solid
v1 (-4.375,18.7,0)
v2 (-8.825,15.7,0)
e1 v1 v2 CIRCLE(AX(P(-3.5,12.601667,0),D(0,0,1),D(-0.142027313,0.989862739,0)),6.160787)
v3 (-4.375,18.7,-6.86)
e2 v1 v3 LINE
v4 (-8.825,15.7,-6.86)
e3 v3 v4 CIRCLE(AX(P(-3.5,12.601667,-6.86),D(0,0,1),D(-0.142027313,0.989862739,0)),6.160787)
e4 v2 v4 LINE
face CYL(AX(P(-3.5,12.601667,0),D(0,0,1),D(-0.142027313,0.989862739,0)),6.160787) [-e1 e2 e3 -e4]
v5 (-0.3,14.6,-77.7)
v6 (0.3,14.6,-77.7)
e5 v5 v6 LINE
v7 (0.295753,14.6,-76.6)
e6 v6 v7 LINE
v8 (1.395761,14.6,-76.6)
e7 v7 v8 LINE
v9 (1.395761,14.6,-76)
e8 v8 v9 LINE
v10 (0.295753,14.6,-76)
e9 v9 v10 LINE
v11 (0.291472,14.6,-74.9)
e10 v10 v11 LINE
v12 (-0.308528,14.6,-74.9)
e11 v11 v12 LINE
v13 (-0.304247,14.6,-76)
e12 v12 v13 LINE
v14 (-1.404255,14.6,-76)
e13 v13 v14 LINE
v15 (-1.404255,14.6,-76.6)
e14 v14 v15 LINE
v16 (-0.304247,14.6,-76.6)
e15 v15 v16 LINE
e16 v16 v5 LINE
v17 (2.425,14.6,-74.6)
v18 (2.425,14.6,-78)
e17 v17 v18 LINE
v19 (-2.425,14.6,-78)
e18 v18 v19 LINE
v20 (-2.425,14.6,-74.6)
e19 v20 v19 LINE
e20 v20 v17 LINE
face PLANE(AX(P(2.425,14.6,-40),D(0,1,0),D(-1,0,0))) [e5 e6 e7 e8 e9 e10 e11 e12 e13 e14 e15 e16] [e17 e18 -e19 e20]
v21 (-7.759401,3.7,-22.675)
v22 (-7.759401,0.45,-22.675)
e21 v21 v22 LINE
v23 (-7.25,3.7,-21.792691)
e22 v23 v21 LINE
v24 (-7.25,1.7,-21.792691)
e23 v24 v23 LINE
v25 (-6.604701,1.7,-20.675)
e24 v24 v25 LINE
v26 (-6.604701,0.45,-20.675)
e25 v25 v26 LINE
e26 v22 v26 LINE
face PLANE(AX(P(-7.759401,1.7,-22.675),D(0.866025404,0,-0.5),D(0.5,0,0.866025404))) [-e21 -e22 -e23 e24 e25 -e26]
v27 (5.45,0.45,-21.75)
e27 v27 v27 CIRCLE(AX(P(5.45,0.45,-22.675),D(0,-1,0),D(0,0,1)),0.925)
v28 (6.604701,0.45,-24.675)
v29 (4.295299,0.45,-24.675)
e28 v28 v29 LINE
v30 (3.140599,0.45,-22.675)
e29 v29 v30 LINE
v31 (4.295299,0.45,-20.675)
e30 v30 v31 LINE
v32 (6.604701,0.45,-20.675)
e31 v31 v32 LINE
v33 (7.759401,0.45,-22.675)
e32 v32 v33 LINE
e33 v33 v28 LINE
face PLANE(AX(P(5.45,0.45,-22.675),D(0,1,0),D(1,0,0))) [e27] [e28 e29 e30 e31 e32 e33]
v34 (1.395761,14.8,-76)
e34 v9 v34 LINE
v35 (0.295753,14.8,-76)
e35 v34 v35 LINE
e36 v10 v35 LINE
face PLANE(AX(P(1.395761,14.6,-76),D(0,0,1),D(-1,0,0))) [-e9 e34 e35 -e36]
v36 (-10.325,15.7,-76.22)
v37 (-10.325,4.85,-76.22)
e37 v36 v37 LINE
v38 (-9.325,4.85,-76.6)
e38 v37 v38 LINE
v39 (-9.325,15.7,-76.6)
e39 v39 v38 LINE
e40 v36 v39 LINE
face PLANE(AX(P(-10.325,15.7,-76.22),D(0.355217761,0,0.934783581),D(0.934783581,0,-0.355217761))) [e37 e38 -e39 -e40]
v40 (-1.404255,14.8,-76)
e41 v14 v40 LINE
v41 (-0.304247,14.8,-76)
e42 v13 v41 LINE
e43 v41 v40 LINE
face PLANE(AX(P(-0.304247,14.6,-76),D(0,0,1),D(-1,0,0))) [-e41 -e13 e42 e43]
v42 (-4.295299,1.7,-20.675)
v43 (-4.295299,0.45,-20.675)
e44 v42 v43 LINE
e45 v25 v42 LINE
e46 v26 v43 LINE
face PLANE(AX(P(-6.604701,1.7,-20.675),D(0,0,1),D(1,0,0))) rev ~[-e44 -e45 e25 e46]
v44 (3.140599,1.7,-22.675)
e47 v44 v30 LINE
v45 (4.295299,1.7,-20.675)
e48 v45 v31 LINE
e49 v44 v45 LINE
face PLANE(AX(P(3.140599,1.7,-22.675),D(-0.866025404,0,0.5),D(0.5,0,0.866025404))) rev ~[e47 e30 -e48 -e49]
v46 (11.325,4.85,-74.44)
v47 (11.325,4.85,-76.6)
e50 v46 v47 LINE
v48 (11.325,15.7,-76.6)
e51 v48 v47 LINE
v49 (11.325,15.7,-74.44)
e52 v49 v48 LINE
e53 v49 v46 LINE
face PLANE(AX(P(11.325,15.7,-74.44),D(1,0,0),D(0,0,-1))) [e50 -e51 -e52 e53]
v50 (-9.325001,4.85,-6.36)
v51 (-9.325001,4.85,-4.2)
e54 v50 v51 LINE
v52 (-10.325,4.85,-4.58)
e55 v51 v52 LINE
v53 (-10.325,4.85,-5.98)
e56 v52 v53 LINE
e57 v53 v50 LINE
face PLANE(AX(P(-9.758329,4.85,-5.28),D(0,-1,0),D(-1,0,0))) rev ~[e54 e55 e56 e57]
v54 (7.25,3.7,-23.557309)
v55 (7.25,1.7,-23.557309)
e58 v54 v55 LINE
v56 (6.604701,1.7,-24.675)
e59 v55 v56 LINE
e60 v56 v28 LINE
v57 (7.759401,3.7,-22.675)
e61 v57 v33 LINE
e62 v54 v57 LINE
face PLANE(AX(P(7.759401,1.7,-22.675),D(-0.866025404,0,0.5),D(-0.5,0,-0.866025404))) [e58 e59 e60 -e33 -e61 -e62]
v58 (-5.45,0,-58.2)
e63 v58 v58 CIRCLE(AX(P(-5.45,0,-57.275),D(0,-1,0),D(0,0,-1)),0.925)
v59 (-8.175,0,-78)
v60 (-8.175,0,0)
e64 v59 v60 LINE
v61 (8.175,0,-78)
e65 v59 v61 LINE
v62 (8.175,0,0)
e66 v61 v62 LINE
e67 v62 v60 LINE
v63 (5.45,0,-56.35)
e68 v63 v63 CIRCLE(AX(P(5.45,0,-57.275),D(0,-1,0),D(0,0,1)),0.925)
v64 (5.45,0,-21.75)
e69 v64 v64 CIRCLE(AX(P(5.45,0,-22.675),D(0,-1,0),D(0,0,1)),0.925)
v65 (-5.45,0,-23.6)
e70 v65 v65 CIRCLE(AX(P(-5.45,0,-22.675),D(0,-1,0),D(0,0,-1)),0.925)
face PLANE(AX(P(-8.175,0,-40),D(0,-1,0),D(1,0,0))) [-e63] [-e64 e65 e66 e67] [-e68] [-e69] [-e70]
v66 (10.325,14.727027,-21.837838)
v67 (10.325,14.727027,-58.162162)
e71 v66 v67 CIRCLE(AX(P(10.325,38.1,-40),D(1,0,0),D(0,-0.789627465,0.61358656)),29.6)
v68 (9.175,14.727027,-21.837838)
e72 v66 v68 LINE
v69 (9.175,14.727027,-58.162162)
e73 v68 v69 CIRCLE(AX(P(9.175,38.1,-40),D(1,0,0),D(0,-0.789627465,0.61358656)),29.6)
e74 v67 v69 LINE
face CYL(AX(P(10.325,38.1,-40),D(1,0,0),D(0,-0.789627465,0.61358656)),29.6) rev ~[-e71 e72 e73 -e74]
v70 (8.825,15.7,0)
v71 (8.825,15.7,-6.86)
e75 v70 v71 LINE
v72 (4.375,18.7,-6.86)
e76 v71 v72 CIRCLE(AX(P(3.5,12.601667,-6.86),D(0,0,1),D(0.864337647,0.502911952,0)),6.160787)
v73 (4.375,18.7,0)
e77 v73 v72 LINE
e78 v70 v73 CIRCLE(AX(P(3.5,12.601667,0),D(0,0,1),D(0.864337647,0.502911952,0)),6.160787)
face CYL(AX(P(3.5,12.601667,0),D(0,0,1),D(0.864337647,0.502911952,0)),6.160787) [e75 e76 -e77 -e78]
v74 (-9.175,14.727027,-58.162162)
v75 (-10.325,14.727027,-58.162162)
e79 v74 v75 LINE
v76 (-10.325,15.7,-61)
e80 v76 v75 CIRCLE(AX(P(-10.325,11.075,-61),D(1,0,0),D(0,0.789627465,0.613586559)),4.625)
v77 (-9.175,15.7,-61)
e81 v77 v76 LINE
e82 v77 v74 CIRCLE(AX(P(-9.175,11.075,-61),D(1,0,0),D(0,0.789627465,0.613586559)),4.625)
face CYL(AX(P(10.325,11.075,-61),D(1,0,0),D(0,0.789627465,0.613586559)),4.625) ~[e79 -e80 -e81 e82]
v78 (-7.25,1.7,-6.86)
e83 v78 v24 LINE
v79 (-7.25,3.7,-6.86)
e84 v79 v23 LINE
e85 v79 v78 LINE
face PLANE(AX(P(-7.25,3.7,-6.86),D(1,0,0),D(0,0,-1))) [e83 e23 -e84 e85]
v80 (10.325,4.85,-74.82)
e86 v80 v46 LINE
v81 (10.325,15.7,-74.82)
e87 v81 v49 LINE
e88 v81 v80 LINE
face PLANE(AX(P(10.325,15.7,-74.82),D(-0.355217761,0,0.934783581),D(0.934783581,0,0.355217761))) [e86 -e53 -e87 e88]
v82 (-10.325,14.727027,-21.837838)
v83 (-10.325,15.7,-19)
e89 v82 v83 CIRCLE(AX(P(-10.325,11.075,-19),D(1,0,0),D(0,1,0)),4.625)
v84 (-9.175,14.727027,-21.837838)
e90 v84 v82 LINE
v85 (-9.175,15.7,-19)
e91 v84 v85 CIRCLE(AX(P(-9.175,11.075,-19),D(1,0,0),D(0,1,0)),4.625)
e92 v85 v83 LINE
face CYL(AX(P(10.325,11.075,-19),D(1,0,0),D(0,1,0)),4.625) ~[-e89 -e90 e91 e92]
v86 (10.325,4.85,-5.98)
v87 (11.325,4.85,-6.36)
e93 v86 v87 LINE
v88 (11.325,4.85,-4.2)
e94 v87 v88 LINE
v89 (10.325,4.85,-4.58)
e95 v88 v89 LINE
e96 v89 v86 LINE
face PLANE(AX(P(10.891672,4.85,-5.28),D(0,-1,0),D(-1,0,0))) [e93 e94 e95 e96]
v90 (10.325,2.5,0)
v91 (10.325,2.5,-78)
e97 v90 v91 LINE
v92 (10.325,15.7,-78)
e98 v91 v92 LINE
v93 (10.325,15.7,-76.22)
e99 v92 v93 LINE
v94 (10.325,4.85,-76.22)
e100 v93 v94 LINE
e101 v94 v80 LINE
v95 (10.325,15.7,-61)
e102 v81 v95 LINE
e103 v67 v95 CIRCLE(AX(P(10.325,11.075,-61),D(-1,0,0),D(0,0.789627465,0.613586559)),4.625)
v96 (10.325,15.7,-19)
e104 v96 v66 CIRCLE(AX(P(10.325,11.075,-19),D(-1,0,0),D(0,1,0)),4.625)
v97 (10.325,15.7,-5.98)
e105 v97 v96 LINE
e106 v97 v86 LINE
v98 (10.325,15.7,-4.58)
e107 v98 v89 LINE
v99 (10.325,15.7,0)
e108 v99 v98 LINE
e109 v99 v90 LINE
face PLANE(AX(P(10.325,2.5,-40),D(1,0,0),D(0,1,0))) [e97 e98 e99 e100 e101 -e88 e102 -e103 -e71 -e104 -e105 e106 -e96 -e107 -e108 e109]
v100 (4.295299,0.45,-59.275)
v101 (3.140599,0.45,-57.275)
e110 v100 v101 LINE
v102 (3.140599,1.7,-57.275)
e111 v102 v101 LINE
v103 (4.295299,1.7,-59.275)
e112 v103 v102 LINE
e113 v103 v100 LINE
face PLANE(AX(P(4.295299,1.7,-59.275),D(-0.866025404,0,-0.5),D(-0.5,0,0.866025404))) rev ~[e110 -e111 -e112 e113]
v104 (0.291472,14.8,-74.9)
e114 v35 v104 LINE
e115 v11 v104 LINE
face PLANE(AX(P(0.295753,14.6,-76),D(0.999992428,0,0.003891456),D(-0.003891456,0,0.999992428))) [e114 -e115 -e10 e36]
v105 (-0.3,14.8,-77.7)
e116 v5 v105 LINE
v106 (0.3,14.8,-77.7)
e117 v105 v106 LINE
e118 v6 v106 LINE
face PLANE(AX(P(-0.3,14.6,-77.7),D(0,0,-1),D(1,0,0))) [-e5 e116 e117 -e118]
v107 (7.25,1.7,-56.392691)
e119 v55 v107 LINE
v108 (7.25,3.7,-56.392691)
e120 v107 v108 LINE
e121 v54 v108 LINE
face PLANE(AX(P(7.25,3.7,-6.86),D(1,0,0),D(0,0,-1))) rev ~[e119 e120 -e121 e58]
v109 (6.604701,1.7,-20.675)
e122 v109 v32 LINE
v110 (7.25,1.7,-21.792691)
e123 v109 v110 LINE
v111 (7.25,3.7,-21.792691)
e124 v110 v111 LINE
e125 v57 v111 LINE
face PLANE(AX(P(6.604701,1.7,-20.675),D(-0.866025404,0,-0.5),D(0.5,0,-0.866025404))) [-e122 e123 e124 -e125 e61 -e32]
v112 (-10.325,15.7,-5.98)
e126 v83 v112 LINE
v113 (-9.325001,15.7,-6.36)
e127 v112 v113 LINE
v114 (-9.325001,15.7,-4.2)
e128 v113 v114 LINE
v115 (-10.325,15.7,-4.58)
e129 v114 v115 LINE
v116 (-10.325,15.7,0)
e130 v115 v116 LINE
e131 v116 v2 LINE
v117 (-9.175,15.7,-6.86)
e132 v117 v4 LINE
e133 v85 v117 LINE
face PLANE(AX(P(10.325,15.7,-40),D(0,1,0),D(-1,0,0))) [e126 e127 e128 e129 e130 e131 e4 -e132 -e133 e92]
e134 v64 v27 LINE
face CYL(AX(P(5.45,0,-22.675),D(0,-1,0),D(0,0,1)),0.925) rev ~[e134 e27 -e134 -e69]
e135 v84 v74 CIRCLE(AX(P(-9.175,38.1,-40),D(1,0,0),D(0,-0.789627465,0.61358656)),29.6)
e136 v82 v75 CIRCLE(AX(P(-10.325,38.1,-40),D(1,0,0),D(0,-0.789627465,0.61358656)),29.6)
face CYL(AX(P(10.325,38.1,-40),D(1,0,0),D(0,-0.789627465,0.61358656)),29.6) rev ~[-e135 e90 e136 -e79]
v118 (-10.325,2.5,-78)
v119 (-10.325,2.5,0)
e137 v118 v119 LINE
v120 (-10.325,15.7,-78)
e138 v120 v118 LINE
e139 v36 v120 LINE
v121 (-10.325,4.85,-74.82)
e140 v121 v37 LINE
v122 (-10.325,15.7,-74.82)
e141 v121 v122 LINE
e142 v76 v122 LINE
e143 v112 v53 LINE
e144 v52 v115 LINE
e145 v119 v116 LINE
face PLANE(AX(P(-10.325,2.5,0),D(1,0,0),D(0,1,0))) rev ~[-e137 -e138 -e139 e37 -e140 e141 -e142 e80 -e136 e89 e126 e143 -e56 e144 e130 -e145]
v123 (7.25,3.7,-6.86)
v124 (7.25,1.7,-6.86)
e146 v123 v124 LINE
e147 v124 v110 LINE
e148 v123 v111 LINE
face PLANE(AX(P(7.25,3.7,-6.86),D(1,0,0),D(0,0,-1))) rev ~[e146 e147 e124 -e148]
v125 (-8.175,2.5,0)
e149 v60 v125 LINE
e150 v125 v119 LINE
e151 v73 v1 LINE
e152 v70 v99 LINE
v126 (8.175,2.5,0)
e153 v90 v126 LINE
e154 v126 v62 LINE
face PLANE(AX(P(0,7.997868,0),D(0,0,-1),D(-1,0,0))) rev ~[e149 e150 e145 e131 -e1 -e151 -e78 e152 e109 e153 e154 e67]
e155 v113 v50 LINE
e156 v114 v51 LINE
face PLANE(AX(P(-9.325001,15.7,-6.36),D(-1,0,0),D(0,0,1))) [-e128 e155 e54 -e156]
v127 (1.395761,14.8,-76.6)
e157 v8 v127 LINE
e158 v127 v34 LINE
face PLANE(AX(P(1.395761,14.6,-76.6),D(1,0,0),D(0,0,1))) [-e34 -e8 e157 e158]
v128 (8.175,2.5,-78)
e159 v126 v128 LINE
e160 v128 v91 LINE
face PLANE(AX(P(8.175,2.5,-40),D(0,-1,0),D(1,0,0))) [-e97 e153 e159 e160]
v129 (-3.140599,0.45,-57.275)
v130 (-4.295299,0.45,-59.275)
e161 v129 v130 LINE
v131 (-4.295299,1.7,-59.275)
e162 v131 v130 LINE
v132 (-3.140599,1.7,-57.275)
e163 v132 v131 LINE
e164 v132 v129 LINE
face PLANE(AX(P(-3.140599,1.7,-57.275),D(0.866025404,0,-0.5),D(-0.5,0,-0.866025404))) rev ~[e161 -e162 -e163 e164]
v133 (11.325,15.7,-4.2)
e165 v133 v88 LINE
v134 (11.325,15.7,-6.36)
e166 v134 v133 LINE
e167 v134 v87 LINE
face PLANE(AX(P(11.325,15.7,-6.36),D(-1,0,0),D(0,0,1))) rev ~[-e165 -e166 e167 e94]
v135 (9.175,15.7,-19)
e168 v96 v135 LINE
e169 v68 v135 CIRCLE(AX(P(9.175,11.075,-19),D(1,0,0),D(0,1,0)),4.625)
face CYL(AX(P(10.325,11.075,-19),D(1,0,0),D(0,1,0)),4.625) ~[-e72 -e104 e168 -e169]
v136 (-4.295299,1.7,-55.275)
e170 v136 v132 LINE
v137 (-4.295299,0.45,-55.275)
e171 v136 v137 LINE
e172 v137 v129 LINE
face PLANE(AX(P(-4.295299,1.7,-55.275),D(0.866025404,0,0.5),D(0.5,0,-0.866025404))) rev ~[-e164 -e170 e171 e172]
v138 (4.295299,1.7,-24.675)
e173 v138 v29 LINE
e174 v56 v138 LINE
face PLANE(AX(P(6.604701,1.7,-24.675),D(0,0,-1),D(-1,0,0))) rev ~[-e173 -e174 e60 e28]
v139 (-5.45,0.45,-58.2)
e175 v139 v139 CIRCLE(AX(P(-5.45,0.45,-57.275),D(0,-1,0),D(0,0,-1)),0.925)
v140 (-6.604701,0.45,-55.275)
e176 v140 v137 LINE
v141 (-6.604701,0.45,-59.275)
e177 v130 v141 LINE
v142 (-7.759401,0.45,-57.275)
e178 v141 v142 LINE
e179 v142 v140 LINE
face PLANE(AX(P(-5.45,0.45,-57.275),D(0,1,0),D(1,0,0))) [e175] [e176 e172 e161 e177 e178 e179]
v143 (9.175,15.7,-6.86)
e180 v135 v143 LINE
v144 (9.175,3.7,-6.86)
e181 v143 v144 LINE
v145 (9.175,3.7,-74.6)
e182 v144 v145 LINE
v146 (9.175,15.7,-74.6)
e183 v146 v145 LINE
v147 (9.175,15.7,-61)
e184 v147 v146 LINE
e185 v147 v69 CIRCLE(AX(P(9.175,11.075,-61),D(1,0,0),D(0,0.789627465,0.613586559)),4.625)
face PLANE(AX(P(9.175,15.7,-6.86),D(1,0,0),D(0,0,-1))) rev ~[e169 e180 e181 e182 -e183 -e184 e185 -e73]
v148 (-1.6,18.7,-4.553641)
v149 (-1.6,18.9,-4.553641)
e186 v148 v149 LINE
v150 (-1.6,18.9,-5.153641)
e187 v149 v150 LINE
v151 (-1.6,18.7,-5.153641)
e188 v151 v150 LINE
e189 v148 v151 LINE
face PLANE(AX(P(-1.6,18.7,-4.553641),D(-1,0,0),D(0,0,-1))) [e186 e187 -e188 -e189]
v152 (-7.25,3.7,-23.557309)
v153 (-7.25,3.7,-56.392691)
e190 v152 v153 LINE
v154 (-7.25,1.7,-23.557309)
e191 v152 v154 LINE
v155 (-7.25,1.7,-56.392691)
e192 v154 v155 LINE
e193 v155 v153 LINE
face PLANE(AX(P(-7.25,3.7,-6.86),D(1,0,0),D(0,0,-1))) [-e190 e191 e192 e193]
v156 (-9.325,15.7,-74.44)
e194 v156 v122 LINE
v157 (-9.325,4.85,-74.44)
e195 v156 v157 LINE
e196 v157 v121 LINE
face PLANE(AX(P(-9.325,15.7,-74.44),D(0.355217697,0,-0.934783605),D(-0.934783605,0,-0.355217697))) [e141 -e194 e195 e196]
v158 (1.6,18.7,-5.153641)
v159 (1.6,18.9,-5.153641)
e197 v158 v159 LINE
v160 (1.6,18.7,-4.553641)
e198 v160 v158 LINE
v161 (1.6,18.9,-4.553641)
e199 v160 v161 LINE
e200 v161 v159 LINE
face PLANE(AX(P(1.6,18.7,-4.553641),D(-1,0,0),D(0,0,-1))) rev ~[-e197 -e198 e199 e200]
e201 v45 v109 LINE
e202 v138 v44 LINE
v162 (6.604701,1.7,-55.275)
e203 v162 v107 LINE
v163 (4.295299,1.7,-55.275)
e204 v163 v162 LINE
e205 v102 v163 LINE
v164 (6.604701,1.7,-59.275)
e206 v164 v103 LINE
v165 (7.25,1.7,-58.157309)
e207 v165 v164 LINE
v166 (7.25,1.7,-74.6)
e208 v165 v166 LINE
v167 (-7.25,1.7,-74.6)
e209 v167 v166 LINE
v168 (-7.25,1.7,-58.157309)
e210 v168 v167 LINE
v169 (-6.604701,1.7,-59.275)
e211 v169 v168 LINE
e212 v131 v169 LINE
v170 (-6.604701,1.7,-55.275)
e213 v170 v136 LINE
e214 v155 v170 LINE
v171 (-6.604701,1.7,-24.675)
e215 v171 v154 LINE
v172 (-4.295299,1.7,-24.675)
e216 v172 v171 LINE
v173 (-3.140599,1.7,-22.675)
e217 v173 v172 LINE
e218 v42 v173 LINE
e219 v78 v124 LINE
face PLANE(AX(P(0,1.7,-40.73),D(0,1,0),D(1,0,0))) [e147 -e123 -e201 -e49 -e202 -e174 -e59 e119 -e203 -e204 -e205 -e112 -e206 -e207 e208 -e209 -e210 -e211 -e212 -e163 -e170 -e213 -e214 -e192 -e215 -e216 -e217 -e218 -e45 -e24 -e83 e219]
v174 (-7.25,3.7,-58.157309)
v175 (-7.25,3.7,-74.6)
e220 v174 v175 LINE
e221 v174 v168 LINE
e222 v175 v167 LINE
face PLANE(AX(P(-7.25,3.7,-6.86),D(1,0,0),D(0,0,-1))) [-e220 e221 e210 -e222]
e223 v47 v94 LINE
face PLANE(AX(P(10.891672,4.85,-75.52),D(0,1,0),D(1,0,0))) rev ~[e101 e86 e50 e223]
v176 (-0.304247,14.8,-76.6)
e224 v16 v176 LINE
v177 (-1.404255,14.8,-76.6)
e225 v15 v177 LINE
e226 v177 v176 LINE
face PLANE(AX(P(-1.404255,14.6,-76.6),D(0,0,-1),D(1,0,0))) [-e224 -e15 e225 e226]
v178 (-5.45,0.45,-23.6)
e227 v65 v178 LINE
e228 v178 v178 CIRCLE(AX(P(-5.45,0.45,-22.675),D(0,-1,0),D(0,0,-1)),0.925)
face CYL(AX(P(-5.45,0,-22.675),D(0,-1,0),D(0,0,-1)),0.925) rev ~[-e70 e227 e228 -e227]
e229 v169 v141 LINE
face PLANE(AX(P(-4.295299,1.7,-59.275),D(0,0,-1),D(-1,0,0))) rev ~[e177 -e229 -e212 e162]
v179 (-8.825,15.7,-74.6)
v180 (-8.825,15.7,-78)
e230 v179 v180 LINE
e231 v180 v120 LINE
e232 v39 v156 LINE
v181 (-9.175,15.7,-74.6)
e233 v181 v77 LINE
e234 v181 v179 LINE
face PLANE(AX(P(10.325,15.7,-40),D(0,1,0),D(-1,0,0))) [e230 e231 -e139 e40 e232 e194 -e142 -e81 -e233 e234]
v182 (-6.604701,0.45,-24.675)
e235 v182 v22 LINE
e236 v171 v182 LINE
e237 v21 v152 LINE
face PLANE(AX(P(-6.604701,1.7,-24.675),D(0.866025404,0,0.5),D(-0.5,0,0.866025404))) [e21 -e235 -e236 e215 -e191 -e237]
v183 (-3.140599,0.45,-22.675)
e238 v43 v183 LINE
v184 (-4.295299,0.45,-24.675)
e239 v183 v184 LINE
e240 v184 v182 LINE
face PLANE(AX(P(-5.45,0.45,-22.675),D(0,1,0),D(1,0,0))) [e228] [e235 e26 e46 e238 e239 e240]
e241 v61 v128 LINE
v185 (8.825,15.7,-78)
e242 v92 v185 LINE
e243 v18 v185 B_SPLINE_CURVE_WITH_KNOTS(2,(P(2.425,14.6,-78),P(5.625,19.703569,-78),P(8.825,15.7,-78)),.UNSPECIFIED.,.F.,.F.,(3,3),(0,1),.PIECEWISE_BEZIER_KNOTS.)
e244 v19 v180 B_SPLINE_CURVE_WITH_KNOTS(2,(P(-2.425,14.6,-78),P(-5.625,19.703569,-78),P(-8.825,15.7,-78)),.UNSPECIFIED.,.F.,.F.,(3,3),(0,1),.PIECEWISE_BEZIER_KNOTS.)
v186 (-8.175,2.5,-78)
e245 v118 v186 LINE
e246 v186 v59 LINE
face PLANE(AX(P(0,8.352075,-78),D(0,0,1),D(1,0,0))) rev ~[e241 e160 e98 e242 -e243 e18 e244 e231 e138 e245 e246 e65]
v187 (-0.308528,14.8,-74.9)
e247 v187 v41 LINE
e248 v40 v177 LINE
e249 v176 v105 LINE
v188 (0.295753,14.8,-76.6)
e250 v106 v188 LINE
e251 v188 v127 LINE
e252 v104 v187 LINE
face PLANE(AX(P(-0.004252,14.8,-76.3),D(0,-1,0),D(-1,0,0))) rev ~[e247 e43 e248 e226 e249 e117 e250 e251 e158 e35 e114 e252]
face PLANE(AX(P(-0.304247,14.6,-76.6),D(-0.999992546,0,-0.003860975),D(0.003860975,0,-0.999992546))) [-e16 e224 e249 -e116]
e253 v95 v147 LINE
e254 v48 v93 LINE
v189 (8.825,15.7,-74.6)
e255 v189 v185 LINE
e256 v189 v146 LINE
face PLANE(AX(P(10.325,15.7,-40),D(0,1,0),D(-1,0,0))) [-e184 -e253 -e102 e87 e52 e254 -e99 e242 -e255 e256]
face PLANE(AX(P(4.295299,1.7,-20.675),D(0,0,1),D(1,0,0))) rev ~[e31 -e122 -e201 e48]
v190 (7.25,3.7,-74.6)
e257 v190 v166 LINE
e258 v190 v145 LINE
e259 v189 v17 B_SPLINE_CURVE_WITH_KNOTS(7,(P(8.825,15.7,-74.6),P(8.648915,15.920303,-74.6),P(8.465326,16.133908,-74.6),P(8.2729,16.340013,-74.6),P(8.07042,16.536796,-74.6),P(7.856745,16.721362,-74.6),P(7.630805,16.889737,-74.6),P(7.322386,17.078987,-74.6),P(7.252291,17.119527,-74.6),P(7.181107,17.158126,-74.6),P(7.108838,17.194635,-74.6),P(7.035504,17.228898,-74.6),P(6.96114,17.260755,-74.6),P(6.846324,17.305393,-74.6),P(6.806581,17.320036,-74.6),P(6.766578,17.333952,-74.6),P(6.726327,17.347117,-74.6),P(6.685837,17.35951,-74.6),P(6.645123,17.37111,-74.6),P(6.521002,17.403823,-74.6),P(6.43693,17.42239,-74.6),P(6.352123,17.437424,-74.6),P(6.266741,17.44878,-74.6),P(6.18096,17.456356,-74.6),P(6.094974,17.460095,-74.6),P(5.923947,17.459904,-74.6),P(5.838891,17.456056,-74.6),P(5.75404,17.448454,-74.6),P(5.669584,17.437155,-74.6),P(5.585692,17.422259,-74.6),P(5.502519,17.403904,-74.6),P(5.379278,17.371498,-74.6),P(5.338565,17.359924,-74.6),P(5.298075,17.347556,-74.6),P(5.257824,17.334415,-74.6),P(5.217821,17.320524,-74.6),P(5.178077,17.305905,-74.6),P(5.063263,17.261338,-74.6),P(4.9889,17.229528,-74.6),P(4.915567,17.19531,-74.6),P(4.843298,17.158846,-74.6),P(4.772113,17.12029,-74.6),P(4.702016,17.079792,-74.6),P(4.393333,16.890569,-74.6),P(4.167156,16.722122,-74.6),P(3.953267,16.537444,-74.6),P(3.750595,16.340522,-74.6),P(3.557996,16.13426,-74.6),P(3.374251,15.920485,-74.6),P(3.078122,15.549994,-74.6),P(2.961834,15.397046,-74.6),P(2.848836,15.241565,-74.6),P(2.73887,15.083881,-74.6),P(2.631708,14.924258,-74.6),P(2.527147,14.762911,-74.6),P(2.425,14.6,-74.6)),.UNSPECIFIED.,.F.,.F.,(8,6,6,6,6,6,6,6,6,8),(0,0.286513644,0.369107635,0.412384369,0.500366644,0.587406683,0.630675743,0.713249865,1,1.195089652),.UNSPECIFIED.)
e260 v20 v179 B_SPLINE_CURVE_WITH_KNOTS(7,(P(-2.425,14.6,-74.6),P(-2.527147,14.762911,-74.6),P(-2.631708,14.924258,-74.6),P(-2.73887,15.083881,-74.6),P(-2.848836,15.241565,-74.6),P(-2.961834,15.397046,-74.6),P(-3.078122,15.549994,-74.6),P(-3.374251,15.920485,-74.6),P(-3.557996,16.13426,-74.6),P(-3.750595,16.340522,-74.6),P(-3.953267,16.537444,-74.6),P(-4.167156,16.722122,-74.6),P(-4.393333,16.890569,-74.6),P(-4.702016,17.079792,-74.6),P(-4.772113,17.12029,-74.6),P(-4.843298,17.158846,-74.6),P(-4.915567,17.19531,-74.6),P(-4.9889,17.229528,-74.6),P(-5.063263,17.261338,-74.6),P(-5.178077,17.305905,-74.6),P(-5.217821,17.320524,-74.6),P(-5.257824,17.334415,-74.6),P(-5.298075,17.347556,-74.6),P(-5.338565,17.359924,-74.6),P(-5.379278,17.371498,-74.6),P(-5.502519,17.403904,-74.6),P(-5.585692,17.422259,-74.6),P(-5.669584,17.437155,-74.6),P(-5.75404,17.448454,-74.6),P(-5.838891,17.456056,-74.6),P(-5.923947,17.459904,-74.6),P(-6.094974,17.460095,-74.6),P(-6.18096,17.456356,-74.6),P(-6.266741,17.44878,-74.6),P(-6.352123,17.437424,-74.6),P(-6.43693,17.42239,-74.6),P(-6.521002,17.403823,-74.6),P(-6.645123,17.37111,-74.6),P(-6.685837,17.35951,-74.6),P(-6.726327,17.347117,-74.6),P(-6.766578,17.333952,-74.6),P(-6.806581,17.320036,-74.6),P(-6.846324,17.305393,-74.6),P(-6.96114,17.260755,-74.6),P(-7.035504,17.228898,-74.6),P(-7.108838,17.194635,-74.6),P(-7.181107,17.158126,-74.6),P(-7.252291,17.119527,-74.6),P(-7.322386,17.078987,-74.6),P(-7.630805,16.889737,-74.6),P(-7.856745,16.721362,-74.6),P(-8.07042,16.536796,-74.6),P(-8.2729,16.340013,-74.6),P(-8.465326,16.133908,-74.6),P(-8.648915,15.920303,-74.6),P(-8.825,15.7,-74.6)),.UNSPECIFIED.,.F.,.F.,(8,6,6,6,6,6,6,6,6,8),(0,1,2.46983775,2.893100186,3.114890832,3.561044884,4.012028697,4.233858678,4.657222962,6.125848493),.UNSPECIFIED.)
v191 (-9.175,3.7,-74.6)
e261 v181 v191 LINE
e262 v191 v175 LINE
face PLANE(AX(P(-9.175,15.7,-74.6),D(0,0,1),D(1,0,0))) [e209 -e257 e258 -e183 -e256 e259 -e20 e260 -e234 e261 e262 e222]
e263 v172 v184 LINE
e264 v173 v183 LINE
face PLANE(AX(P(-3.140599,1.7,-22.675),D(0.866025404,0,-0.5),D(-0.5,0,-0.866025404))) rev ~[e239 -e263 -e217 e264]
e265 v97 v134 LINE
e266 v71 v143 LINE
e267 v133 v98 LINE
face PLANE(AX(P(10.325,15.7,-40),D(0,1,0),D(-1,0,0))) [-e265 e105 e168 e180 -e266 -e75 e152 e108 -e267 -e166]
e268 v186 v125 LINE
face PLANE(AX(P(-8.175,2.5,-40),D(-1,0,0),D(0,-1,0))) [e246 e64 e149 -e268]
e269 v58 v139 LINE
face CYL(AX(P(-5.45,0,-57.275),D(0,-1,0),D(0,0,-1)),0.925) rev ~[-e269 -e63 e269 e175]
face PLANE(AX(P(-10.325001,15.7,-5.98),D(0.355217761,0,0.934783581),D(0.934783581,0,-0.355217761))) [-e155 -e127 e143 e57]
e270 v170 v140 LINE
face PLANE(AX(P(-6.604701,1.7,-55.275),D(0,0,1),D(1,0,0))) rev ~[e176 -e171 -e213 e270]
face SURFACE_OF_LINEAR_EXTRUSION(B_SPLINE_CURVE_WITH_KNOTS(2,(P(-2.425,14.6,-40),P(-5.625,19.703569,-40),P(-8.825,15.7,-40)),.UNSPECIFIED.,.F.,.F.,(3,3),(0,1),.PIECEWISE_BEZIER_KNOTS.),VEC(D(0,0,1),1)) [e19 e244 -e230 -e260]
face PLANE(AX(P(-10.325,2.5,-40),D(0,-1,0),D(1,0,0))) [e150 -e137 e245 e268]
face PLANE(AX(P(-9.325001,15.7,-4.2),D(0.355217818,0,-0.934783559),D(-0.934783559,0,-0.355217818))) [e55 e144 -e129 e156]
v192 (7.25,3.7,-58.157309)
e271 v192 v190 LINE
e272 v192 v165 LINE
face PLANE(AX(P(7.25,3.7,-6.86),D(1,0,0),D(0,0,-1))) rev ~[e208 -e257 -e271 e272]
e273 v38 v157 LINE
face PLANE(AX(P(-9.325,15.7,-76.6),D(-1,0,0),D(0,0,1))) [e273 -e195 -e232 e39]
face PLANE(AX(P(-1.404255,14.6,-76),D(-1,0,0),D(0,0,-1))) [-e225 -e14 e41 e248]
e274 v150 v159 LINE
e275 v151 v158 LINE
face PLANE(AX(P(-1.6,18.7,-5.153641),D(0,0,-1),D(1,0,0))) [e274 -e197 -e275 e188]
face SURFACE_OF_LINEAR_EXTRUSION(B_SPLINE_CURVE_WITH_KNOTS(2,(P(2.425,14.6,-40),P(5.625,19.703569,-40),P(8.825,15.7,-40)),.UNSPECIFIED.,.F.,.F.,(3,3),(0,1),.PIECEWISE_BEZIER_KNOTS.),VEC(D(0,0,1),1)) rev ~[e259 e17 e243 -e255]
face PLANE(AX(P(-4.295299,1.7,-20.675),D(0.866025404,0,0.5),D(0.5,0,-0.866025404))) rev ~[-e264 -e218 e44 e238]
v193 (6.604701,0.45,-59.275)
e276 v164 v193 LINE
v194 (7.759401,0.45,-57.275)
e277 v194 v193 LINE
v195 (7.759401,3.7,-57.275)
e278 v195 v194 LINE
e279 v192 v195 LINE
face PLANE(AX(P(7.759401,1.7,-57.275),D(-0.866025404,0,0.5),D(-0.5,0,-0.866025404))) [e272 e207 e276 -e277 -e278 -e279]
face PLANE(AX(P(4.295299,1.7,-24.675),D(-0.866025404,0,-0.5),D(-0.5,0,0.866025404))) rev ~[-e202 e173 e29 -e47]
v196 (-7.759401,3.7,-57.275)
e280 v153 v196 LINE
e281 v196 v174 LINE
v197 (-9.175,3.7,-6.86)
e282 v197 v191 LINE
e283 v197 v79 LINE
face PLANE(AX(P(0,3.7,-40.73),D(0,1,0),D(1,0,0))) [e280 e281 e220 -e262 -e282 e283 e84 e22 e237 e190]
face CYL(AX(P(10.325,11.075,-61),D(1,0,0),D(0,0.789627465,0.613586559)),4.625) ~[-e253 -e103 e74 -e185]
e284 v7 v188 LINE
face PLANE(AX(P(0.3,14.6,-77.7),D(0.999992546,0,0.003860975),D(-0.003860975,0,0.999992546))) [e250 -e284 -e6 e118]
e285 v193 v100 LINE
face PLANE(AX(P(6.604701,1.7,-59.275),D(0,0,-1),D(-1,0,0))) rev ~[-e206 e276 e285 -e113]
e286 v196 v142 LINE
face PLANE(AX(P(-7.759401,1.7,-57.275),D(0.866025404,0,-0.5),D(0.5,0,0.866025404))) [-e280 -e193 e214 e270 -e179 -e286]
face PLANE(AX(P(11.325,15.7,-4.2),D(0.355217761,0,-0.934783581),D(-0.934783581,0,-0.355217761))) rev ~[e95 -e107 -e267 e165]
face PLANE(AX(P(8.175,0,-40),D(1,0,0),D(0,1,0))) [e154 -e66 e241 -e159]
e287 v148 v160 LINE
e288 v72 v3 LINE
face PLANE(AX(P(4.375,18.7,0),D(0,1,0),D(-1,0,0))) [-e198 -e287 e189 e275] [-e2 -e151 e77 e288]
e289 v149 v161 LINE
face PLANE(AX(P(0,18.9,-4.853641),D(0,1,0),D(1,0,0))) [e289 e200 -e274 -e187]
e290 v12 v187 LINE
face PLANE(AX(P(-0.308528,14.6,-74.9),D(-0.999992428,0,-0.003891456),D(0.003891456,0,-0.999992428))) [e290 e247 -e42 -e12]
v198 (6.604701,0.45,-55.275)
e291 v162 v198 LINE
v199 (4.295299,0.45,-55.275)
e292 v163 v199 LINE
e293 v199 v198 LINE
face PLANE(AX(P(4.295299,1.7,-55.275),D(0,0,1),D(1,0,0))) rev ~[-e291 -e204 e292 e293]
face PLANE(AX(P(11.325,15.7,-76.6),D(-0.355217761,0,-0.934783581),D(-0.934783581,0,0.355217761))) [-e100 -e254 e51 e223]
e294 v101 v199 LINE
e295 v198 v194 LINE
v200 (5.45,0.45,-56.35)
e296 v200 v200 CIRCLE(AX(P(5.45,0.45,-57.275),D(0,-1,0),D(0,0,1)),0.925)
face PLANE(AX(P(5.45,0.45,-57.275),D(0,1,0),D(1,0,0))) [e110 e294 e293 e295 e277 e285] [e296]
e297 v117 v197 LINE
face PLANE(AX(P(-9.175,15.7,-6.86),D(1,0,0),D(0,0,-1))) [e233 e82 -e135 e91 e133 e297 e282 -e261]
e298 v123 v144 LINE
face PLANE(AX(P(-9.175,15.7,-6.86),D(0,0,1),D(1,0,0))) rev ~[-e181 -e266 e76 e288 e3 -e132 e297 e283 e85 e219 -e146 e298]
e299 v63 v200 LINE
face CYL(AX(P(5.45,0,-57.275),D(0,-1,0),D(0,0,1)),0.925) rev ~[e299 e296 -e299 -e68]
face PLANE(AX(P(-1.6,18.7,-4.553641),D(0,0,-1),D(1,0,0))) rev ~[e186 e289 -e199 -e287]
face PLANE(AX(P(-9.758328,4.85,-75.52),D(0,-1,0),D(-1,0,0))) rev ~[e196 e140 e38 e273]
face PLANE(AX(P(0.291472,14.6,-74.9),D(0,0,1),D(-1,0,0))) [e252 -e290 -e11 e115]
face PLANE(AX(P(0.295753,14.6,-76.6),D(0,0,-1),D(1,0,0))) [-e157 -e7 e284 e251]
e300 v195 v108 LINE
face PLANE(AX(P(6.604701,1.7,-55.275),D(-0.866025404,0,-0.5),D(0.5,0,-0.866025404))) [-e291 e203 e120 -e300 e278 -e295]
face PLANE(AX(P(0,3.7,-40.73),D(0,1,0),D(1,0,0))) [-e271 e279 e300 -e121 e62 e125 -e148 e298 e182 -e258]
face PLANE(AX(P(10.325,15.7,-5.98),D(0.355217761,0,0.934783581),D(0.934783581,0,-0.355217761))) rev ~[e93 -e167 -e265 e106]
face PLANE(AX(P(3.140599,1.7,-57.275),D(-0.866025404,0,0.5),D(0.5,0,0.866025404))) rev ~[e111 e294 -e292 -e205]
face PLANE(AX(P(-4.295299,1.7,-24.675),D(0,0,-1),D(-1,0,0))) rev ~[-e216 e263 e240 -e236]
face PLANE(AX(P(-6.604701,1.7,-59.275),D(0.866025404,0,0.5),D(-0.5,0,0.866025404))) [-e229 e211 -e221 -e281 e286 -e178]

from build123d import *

# Parameters (mm, degrees)
EXTRUDE1_DEPTH       = 40
EXTRUDE2_DEPTH       = 6.86
EXTRUDE3_DEPTH       = 38
SKETCH5_W            = 18.35
SKETCH5_H            = 67.74
EXTRUDE4_DEPTH       = 81.231512798
EXTRUDE4_DEPTH_BACK  = 12
SKETCH6_W            = 14.5
SKETCH6_H            = 67.74
EXTRUDE5_DEPTH       = 2
EXTRUDE6_DEPTH       = 83.825796222
EXTRUDE7_DEPTH       = 10.85
EXTRUDE8_DEPTH       = 10.85
SKETCH10_R           = 0.925
EXTRUDE9_DEPTH       = 82.005837077
EXTRUDE10_DEPTH      = 81.630364259
EXTRUDE10_DEPTH_BACK = 1.25
SKETCH12_W           = 3.2
SKETCH12_H           = 0.6
EXTRUDE11_DEPTH      = 0.2
EXTRUDE12_DEPTH      = 0.2


with BuildPart() as part:
    # Sketch1 → Extrude1 (new body)
    with BuildSketch(Plane.XY):
        Polygon((8.175, 0), (-8.175, 0), (-8.175, 2.5), (-10.325, 2.5), (-10.325, 15.7), (10.325, 15.7), (10.325, 2.5), (8.175, 2.5), align=None)
    extrude(amount=-EXTRUDE1_DEPTH)

    # Sketch2 → Extrude2 (add)
    with BuildSketch(Plane.XY):
        with BuildLine():
            Line((-8.825, 15.7), (8.825, 15.7))
            ThreePointArc((8.825, 15.7), (6.943835072, 17.710022023), (4.375, 18.7))
            Line((4.375, 18.7), (-4.375, 18.7))
            ThreePointArc((-4.375, 18.7), (-6.943835072, 17.710022023), (-8.825, 15.7))
        make_face()
    extrude(amount=-EXTRUDE2_DEPTH)

    # Sketch4 → Extrude3 (add)
    with BuildSketch(Plane(origin=(0, 0, -40), x_dir=(-1, 0, 0), z_dir=(0, 0, -1))):
        with BuildLine():
            Line((-10.325, 15.7), (-8.825, 15.7))
            add(Edge.make_bspline(
                [(-2.425, 14.6), (-5.625, 19.703568586), (-8.825, 15.7)],
                knots=[0, 0, 0, 1, 1, 1], degree=2))
            Line((-2.425, 14.6), (2.425, 14.6))
            add(Edge.make_bspline(
                [(2.425, 14.6), (5.625, 19.703568586), (8.825, 15.7)],
                knots=[0, 0, 0, 1, 1, 1], degree=2))
            Line((8.825, 15.7), (10.325, 15.7))
            Line((10.325, 15.7), (10.325, 2.5))
            Line((10.325, 2.5), (8.175, 2.5))
            Line((8.175, 2.5), (8.175, 0))
            Line((8.175, 0), (-8.175, 0))
            Line((-8.175, 0), (-8.175, 2.5))
            Line((-8.175, 2.5), (-10.325, 2.5))
            Line((-10.325, 2.5), (-10.325, 15.7))
        make_face()
    extrude(amount=EXTRUDE3_DEPTH)

    # Sketch5 → Extrude4 (cut, two sides)
    with BuildSketch(Plane(origin=(0, 15.7, 0), x_dir=(1, 0, 0), z_dir=(0, 1, 0))) as extrude4_sk:
        with Locations((0, 40.73)):
            Rectangle(SKETCH5_W, SKETCH5_H)
    extrude(amount=EXTRUDE4_DEPTH, mode=Mode.SUBTRACT)
    extrude(extrude4_sk.sketch, amount=-EXTRUDE4_DEPTH_BACK, mode=Mode.SUBTRACT)

    # Sketch6 → Extrude5 (cut)
    with BuildSketch(Plane(origin=(0, 3.7, 0), x_dir=(1, 0, 0), z_dir=(0, 1, 0))):
        with Locations((0, 40.73)):
            Rectangle(SKETCH6_W, SKETCH6_H)
    extrude(amount=-EXTRUDE5_DEPTH, mode=Mode.SUBTRACT)

    # Sketch7 → Extrude6 (cut, through all)
    with BuildSketch(Plane(origin=(10.325, 0, 0), x_dir=(0, 0, -1), z_dir=(1, 0, 0))):
        with BuildLine():
            Line((12.066317198, 15.7), (19, 15.7))
            ThreePointArc((19, 15.7), (20.5, 15.45), (21.837837838, 14.727027027))
            ThreePointArc((21.837837838, 14.727027027), (40, 8.5), (58.162162162, 14.727027027))
            ThreePointArc((58.162162162, 14.727027027), (59.5, 15.45), (61, 15.7))
            Line((61, 15.7), (67.933682802, 15.7))
            Line((67.933682802, 15.7), (67.933682802, 19.991069183))
            Line((67.933682802, 19.991069183), (12.066317198, 19.991069183))
            Line((12.066317198, 19.991069183), (12.066317198, 15.7))
        make_face()
    extrude(amount=-EXTRUDE6_DEPTH, mode=Mode.SUBTRACT)

    # Sketch8 → Extrude7 (add)
    with BuildSketch(Plane(origin=(0, 15.7, 0), x_dir=(1, 0, 0), z_dir=(0, 1, 0))):
        Polygon((10.325, 4.58), (10.325, 5.98), (11.325, 6.36), (11.325, 4.2), align=None)
        Polygon((11.325, 76.6), (10.325, 76.22), (10.325, 74.82), (11.325, 74.44), align=None)
    extrude(amount=-EXTRUDE7_DEPTH)

    # Sketch9 → Extrude8 (cut)
    with BuildSketch(Plane(origin=(0, 15.7, 0), x_dir=(1, 0, 0), z_dir=(0, 1, 0))):
        Polygon((-10.325000262, 76.22), (-9.325000262, 76.6), (-9.325000262, 74.44), (-10.325000468, 74.82), align=None)
        Polygon((-10.325000787, 5.98), (-9.325000787, 6.36), (-9.325000787, 4.2), (-10.325000603, 4.58), align=None)
    extrude(amount=-EXTRUDE8_DEPTH, mode=Mode.SUBTRACT)

    # Sketch10 → Extrude9 (cut, through all)
    with BuildSketch(Plane.XZ):
        with Locations(Location((-5.45, -22.675, 0), (0, 0, 270))):
            Circle(SKETCH10_R)
        with Locations(Location((-5.45, -57.275, 0), (0, 0, 270))):
            Circle(SKETCH10_R)
        with Locations(Location((5.45, -57.275, 0), (0, 0, 90))):
            Circle(SKETCH10_R)
        with Locations(Location((5.45, -22.675, 0), (0, 0, 90))):
            Circle(SKETCH10_R)
    extrude(amount=-EXTRUDE9_DEPTH, mode=Mode.SUBTRACT)

    # Sketch11 → Extrude10 (cut, two sides)
    with BuildSketch(Plane(origin=(0, 1.7, 0), x_dir=(1, 0, 0), z_dir=(0, 1, 0))) as extrude10_sk:
        Polygon((-3.140598923, 57.275), (-4.295299462, 59.275), (-6.604700538, 59.275), (-7.759401077, 57.275), (-6.604700538, 55.275), (-4.295299462, 55.275), align=None)
        Polygon((3.140598923, 57.275), (4.295299462, 55.275), (6.604700538, 55.275), (7.759401077, 57.275), (6.604700538, 59.275), (4.295299462, 59.275), align=None)
        Polygon((-3.140598923, 22.675), (-4.295299462, 24.675), (-6.604700538, 24.675), (-7.759401077, 22.675), (-6.604700538, 20.675), (-4.295299462, 20.675), align=None)
        Polygon((3.140598923, 22.675), (4.295299462, 20.675), (6.604700538, 20.675), (7.759401077, 22.675), (6.604700538, 24.675), (4.295299462, 24.675), align=None)
    extrude(amount=EXTRUDE10_DEPTH, mode=Mode.SUBTRACT)
    extrude(extrude10_sk.sketch, amount=-EXTRUDE10_DEPTH_BACK, mode=Mode.SUBTRACT)

    # Sketch12 → Extrude11 (add)
    with BuildSketch(Plane(origin=(0, 18.7, 0), x_dir=(1, 0, 0), z_dir=(0, 1, 0))):
        with Locations((0, 4.853640731)):
            Rectangle(SKETCH12_W, SKETCH12_H)
    extrude(amount=EXTRUDE11_DEPTH)

    # Sketch13 → Extrude12 (add)
    with BuildSketch(Plane(origin=(0, 14.6, 0), x_dir=(1, 0, 0), z_dir=(0, 1, 0))):
        Polygon((-0.3, 77.7), (0.3, 77.7), (0.295752896, 76.599999935), (1.395761159, 76.599999935), (1.395761159, 75.999999935), (0.295752896, 75.999999935), (0.291472262, 74.9), (-0.308527738, 74.9), (-0.304247104, 75.999999935), (-1.404255368, 75.999999935), (-1.404255368, 76.599999935), (-0.304247104, 76.599999935), align=None)
    extrude(amount=EXTRUDE12_DEPTH)


solid = part.part
